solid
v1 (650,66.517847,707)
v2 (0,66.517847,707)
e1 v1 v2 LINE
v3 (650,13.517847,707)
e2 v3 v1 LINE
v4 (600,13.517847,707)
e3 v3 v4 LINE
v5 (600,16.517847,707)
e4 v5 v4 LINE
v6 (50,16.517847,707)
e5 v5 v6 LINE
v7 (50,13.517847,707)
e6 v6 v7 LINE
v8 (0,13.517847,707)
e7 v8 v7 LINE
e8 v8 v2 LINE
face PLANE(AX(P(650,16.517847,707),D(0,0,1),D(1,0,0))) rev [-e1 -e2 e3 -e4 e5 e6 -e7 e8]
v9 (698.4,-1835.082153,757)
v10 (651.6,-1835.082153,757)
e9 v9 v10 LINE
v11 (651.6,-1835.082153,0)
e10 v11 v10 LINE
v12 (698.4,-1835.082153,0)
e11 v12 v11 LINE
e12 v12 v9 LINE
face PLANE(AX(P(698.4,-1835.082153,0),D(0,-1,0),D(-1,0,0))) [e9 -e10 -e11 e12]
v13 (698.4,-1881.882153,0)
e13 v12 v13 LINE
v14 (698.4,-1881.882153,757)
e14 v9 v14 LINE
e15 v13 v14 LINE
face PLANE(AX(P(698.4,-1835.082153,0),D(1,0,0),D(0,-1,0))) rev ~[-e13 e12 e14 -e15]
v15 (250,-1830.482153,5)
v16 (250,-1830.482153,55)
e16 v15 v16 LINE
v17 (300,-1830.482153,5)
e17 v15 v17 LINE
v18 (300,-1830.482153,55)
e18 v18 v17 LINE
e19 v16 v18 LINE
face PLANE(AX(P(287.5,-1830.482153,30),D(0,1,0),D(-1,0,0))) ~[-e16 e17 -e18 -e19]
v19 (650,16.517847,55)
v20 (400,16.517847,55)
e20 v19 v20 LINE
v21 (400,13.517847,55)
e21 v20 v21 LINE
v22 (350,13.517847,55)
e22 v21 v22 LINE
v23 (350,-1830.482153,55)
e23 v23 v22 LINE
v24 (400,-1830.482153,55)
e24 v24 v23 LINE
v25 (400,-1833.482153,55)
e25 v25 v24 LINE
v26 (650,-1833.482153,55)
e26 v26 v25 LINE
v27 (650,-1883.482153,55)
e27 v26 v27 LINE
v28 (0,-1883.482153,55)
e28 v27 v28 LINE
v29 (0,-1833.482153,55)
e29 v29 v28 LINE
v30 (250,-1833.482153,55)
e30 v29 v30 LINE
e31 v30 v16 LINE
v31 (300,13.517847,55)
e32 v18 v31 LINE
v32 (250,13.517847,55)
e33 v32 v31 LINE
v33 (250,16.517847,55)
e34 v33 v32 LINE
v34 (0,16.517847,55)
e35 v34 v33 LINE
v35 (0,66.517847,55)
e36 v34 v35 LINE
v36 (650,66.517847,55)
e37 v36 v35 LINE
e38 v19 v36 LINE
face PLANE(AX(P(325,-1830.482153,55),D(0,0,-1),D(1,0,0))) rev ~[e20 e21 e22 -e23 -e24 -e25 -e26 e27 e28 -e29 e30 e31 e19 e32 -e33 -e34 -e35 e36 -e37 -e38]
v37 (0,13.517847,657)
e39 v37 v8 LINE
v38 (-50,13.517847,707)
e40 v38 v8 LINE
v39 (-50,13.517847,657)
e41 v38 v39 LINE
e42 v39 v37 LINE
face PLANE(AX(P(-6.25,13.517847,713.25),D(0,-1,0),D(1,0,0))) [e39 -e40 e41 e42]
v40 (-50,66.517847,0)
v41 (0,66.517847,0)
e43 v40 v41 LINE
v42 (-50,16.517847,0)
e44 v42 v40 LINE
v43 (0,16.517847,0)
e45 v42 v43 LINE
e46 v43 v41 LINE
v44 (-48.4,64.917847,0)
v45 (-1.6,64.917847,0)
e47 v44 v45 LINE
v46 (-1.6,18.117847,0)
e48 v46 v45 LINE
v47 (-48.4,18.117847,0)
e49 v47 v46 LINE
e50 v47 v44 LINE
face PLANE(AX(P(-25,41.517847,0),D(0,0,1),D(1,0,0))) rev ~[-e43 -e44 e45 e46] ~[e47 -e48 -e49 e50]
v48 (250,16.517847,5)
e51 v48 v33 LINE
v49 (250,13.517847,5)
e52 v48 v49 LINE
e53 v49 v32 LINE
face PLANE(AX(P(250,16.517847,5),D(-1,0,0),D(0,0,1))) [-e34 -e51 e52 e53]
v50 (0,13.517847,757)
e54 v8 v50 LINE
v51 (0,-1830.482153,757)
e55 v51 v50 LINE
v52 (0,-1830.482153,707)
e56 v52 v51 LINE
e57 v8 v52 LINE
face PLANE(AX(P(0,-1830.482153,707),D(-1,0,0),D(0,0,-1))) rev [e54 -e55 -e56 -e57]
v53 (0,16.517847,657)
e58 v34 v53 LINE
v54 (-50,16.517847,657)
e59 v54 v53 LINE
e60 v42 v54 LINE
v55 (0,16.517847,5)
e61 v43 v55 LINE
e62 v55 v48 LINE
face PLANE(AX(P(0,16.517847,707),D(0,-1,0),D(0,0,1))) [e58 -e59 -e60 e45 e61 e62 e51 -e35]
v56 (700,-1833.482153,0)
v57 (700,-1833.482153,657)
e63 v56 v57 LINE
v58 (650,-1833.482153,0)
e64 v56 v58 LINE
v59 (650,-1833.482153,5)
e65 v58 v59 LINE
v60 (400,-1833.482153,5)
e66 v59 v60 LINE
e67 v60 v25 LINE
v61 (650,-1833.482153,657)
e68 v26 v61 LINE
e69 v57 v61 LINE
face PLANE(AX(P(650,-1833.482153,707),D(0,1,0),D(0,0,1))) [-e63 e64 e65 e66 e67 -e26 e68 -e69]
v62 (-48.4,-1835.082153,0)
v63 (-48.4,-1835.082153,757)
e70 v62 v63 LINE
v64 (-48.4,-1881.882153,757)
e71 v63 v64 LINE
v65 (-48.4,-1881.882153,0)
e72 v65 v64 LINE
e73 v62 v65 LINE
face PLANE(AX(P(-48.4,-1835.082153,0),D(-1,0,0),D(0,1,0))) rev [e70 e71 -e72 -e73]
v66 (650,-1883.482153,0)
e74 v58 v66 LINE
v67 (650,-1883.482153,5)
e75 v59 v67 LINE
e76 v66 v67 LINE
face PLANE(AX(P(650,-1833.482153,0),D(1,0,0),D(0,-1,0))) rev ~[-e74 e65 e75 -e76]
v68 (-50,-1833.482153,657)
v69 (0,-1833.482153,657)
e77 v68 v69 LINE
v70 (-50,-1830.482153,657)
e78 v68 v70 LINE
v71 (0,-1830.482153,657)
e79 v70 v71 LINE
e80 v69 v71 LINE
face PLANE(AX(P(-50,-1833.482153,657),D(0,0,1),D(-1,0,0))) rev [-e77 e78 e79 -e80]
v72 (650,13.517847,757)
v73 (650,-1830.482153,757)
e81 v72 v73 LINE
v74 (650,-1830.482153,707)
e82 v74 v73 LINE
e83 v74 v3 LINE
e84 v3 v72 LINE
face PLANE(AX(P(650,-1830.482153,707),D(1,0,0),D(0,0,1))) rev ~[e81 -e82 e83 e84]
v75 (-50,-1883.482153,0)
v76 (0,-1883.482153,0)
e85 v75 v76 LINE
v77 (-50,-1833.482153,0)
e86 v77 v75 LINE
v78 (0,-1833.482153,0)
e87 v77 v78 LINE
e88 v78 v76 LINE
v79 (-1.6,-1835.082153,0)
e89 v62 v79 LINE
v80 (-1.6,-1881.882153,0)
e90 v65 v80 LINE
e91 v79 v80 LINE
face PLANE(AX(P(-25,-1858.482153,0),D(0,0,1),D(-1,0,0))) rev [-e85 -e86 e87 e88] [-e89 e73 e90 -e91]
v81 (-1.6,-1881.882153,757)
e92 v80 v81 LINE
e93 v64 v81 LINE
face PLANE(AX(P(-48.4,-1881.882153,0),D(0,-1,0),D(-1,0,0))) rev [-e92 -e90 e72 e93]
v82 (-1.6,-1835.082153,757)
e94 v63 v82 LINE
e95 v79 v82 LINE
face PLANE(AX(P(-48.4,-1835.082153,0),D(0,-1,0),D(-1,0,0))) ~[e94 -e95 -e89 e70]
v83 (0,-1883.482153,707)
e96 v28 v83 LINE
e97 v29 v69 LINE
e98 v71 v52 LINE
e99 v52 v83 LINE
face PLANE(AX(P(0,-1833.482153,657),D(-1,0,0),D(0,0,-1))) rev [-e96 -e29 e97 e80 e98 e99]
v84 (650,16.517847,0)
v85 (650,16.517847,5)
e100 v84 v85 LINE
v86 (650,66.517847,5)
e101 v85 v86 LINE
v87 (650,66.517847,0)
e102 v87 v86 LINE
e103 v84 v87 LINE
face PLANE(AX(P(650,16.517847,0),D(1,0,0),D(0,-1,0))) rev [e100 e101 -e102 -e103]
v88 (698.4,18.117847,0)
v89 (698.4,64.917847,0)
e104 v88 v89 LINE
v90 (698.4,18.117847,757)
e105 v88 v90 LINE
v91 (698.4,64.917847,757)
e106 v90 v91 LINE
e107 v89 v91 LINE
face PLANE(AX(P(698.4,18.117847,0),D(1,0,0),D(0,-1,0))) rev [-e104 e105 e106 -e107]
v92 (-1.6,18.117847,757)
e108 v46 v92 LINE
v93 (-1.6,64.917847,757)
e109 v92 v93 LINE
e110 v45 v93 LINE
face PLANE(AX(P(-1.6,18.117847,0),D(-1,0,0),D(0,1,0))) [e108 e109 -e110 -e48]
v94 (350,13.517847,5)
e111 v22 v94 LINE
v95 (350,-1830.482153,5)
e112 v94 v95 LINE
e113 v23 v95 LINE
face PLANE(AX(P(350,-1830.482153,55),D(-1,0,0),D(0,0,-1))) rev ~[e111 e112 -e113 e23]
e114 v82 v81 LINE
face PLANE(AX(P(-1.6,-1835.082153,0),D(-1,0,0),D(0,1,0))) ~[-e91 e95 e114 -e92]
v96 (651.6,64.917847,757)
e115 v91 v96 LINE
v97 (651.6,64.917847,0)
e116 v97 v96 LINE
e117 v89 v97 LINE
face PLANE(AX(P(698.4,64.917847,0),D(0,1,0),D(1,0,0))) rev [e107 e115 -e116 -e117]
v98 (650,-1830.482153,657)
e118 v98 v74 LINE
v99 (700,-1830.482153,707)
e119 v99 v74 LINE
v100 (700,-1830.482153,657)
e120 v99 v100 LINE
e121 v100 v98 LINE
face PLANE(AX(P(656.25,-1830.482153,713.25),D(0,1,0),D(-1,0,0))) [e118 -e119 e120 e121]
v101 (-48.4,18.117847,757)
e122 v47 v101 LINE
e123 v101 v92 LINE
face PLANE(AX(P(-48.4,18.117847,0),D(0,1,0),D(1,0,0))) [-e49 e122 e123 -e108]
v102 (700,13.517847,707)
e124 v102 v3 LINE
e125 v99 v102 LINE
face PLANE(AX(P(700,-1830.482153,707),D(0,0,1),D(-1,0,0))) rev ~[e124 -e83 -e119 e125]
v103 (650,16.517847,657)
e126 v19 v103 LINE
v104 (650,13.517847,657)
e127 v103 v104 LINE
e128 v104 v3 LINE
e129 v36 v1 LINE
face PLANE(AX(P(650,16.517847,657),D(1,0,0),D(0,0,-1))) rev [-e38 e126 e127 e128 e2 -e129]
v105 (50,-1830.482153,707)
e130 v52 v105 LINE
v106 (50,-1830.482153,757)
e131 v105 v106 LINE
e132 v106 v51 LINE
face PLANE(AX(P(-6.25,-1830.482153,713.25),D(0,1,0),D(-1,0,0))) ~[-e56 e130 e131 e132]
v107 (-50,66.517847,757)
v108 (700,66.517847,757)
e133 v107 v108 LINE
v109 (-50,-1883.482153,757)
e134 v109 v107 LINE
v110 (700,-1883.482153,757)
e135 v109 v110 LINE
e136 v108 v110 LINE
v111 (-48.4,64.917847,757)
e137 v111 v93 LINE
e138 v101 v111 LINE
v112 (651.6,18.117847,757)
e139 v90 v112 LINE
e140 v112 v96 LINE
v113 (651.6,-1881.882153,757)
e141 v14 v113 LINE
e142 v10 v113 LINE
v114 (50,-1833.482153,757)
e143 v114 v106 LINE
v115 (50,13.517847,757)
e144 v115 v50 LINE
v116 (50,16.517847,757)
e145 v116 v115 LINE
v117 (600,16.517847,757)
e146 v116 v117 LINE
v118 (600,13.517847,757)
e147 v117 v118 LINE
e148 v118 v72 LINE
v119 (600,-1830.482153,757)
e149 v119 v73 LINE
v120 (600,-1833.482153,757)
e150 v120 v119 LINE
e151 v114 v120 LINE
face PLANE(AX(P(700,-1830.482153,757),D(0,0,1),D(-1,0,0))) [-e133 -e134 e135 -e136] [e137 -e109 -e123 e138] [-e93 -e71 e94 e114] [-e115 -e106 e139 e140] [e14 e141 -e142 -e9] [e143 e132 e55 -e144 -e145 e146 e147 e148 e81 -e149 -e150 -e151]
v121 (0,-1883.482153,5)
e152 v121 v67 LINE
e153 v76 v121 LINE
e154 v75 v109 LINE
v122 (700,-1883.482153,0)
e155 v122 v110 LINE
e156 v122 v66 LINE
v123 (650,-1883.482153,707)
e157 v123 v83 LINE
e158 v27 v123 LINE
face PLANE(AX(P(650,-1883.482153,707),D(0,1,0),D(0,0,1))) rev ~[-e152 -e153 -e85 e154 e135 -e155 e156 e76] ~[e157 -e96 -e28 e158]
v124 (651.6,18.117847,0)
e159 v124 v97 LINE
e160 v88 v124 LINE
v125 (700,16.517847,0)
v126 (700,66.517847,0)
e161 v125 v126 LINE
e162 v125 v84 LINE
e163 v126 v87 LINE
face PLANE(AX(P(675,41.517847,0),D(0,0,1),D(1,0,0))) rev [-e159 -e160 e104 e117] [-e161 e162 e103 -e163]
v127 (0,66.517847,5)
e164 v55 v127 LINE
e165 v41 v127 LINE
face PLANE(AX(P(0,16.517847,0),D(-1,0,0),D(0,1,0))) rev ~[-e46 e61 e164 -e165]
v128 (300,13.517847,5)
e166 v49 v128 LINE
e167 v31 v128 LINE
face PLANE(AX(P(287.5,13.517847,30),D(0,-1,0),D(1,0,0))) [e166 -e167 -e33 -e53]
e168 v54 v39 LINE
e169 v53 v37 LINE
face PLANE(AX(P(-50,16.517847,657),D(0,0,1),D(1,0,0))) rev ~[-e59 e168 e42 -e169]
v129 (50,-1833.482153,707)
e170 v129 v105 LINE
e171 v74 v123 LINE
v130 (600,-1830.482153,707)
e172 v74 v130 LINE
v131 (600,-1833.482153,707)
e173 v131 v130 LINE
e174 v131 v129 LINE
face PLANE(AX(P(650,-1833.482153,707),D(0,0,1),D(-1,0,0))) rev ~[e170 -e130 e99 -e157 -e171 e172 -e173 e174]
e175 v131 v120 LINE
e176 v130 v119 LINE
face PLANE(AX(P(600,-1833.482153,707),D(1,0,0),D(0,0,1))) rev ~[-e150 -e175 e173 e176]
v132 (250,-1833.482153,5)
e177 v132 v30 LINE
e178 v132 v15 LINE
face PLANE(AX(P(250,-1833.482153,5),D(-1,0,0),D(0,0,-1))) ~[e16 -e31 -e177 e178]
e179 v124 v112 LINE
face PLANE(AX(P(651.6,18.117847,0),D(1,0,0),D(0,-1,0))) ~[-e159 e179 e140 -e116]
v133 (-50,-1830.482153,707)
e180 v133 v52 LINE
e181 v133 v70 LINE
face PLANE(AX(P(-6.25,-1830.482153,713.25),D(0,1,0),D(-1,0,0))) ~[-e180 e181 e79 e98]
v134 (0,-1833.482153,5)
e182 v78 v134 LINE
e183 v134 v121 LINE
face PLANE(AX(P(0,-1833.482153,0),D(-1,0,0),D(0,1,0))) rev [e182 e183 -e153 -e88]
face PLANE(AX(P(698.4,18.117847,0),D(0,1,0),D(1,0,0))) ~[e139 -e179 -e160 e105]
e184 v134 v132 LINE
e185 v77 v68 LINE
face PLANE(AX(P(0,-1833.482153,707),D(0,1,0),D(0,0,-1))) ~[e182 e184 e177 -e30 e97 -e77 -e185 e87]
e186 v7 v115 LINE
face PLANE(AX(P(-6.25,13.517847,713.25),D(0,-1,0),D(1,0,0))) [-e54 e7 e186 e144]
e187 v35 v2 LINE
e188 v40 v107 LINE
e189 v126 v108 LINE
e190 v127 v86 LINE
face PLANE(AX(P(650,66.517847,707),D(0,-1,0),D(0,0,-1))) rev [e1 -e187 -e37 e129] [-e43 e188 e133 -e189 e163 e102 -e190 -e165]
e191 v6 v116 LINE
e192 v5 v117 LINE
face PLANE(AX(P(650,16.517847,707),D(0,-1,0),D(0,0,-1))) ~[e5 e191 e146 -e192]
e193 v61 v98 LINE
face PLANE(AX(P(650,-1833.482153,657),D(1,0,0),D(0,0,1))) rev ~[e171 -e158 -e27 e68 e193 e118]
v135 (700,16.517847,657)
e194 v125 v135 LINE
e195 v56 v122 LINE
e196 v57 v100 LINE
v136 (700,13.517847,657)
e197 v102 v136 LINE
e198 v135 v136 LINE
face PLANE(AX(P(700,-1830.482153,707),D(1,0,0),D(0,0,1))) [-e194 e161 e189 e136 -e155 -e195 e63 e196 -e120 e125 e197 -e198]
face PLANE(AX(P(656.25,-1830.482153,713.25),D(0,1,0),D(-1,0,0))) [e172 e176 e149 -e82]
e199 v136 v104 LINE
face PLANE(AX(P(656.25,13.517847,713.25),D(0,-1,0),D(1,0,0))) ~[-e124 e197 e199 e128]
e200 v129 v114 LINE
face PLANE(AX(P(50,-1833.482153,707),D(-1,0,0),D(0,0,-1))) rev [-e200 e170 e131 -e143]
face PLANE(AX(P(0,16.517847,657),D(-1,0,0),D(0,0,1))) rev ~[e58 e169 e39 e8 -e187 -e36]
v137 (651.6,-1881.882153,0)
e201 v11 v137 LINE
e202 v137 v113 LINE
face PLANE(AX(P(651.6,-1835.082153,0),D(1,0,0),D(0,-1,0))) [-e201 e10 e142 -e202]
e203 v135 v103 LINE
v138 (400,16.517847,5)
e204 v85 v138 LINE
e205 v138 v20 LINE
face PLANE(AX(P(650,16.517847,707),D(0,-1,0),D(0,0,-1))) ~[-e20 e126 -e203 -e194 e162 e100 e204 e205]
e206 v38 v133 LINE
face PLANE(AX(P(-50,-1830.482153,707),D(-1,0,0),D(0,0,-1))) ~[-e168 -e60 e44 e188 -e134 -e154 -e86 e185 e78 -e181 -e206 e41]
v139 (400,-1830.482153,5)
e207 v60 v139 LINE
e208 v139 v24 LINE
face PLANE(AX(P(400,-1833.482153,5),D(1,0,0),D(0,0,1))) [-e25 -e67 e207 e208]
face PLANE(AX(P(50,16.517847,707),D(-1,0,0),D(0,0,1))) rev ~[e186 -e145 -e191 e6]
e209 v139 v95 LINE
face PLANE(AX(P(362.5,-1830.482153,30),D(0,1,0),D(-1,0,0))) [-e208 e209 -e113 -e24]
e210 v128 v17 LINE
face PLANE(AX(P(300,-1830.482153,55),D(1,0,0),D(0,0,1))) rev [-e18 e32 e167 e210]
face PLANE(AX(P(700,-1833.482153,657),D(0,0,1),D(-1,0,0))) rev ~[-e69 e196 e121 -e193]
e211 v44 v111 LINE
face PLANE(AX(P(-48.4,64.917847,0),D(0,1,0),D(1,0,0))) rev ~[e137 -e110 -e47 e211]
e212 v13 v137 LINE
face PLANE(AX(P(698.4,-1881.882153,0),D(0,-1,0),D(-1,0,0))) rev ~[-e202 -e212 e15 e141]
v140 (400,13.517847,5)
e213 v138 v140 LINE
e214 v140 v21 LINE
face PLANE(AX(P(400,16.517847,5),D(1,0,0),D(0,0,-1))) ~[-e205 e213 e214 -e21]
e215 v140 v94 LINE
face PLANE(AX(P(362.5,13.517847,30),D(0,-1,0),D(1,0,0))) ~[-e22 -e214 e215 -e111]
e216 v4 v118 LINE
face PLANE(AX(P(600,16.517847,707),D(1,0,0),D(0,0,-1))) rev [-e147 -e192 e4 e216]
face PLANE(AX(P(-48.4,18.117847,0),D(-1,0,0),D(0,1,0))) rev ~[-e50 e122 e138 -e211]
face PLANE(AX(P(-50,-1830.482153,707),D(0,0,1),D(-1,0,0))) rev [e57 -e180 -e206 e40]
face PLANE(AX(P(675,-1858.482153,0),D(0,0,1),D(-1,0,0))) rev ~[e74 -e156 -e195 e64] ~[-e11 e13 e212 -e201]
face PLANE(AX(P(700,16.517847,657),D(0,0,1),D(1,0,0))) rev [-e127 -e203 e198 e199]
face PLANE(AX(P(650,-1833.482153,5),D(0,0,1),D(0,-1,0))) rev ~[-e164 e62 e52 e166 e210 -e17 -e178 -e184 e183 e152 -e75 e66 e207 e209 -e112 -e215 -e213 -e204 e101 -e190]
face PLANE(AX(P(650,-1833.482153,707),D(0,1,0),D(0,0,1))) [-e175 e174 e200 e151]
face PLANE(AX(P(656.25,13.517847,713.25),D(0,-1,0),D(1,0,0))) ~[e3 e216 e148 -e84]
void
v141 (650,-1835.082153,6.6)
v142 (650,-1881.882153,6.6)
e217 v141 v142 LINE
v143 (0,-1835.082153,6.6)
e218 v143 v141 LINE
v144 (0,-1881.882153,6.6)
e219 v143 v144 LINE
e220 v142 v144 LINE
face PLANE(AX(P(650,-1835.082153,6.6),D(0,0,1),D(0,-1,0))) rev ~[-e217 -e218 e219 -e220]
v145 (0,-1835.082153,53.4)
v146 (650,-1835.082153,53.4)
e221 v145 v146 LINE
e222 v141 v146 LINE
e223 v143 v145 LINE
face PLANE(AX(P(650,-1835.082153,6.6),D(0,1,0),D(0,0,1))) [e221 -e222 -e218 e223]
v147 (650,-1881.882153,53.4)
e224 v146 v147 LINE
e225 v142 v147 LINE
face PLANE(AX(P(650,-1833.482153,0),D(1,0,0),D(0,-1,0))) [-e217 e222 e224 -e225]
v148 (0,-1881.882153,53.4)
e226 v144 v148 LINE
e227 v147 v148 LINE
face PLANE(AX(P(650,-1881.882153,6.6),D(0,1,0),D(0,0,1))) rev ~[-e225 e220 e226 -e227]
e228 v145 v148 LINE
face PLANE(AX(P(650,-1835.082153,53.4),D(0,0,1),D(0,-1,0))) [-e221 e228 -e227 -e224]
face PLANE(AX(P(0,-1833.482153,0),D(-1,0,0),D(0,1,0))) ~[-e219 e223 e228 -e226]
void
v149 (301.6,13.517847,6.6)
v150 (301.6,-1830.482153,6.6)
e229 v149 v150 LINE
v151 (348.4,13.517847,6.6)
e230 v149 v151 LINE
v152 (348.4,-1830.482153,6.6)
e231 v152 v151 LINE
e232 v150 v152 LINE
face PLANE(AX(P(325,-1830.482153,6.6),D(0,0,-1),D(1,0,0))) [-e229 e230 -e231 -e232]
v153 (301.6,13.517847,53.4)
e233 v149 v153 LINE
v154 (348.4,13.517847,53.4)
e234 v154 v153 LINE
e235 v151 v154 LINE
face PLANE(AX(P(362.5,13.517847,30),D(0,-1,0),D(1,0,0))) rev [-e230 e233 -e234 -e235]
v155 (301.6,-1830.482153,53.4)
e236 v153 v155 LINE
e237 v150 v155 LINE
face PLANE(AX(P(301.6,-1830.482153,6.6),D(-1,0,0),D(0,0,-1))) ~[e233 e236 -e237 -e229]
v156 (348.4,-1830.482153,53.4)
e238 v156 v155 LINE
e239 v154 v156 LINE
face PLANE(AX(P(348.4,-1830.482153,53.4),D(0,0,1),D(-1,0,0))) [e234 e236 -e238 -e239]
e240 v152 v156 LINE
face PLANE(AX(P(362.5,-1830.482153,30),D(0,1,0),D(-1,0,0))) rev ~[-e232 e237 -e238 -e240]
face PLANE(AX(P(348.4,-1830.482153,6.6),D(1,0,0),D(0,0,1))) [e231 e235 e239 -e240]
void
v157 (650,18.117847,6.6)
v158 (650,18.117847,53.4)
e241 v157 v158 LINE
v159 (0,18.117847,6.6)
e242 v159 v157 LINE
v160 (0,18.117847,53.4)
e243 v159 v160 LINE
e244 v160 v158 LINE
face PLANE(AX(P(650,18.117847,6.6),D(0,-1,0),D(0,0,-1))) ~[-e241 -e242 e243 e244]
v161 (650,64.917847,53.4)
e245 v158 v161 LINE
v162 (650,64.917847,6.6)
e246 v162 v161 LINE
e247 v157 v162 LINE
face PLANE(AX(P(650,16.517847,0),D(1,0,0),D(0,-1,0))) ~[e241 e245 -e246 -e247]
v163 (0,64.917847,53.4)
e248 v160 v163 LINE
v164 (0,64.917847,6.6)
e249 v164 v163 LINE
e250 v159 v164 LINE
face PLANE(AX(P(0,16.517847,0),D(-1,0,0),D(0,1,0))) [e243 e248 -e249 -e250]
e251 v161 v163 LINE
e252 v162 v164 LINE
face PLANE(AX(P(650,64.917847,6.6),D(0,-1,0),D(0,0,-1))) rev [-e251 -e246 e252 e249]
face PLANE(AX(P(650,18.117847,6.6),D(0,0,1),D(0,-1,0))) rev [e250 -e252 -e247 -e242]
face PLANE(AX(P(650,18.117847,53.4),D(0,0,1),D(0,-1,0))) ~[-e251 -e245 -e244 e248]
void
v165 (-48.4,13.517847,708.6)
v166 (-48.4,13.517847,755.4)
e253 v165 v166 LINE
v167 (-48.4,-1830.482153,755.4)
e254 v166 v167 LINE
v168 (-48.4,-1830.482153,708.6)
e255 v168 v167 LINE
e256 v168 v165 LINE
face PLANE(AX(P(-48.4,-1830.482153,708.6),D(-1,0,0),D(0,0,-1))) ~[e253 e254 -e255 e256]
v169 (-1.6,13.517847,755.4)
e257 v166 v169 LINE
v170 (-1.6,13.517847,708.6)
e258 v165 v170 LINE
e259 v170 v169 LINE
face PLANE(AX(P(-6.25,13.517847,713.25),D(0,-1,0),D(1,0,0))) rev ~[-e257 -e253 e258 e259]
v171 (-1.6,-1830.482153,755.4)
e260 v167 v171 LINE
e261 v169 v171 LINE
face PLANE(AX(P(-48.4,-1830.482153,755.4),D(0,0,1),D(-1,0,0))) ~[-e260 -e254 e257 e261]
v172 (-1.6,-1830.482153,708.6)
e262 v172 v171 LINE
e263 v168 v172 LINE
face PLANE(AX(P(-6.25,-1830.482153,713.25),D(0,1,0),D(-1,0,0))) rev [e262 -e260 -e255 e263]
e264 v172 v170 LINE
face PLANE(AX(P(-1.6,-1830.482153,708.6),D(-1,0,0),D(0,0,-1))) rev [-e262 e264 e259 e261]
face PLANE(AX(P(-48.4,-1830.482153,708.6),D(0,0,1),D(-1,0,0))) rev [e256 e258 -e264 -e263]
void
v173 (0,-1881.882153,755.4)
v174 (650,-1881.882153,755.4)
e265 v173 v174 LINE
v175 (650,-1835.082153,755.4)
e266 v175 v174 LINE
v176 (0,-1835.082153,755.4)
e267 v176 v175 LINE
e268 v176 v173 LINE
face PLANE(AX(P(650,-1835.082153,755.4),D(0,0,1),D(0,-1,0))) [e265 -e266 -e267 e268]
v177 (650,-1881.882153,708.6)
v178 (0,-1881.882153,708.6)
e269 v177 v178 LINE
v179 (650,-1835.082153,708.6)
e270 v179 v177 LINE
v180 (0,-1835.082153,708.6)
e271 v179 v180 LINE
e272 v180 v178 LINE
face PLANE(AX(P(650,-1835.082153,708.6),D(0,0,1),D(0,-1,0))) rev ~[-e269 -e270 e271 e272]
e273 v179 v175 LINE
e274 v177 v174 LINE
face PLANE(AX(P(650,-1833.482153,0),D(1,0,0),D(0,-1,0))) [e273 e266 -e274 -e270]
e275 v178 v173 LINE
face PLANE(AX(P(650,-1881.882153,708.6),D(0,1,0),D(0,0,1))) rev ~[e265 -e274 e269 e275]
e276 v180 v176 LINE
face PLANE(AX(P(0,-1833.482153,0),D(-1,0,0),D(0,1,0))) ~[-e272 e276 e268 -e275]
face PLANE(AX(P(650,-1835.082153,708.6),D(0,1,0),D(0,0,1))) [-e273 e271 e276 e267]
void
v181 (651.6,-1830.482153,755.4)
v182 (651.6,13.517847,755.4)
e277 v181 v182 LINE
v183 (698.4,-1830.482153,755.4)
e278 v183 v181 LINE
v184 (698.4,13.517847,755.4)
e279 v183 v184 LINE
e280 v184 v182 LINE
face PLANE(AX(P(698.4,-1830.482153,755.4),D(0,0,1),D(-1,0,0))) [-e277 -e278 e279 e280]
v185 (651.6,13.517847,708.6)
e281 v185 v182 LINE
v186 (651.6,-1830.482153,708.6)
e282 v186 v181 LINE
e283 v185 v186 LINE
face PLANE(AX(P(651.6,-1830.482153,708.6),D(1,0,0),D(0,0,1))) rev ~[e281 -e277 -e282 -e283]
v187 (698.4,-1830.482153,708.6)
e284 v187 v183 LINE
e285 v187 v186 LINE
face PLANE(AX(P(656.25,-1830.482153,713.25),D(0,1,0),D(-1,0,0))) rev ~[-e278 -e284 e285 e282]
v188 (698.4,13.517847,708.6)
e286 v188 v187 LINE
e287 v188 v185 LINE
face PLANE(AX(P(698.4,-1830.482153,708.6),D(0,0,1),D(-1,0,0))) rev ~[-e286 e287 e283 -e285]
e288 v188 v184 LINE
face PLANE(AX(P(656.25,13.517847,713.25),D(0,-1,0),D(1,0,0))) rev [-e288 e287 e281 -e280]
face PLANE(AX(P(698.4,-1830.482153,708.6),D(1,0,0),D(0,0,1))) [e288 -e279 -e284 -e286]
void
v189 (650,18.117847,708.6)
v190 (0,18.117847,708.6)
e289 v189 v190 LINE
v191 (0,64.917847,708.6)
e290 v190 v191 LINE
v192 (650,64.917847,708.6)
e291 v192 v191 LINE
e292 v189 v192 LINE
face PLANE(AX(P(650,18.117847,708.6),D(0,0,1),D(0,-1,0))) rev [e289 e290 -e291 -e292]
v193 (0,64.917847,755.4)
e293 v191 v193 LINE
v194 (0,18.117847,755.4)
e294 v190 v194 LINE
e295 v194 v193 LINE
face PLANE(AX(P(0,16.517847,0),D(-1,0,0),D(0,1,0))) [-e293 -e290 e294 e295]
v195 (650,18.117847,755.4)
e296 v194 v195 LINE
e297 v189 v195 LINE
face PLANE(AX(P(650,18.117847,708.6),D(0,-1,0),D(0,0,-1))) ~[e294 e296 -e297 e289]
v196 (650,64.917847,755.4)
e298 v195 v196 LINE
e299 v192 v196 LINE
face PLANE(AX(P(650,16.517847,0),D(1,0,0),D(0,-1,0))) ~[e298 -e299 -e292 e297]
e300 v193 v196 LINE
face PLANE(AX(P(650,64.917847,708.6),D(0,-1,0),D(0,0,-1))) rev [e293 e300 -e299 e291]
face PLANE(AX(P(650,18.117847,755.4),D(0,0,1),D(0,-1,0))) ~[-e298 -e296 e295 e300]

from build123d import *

# Parameters (mm, degrees)
F0_W     = 50
F0_H     = 50
F0_W_2   = 46.8
F0_H_2   = 46.8
F1_DEPTH = 757
F2_W     = 50
F2_H     = 50
F2_W_2   = 46.8
F2_H_2   = 46.8
F3_DEPTH = 325
F4_W     = 75
F4_H     = 50
F5_DEPTH = 3
F6_W     = 50
F6_H     = 50
F6_W_2   = 46.8
F6_H_2   = 46.8
F7_DEPTH = 922
F9_DEPTH = 922


with BuildPart() as f1:
    # F0 (on Top) → F1 (new body)
    with BuildSketch(Plane.XY):
        with Locations((-25, 41.517847)):
            Rectangle(F0_W, F0_H)
        with Locations((-25, 41.517847)):
            Rectangle(F0_W_2, F0_H_2, mode=Mode.SUBTRACT)
    extrude(amount=F1_DEPTH)

    # F2 (on face) → F3 (join)
    with BuildSketch(Plane.YZ):
        with Locations((41.517847, 732)):
            Rectangle(F2_W, F2_H)
        with Locations((41.517847, 732)):
            Rectangle(F2_W_2, F2_H_2, mode=Mode.SUBTRACT)
        with Locations((41.517847, 30)):
            Rectangle(F2_W, F2_H)
        with Locations((41.517847, 30)):
            Rectangle(F2_W_2, F2_H_2, mode=Mode.SUBTRACT)
    extrude(amount=F3_DEPTH)

    # F4 (on face) → F5 (join)
    with BuildSketch(Plane.XZ.offset(-16.517847)):
        Polygon((50, 757), (-50, 757), (-50, 657), (0, 657), (0, 707), (50, 707), align=None)
        with Locations((287.5, 30)):
            Rectangle(F4_W, F4_H)
    extrude(amount=F5_DEPTH)

    # F6 (on face) → F7 (join)
    with BuildSketch(Plane.XZ.offset(-13.517847)):
        with Locations((-25, 732)):
            Rectangle(F6_W, F6_H)
        with Locations((-25, 732)):
            Rectangle(F6_W_2, F6_H_2, mode=Mode.SUBTRACT)
    extrude(amount=F7_DEPTH)

    # F8 (on face) → F9 (join)
    with BuildSketch(Plane.XZ.offset(-13.517847)):
        Polygon((325, 53.4), (325, 55), (300, 55), (300, 5), (325, 5), (325, 6.6), (301.6, 6.6), (301.6, 53.4), align=None)
    extrude(amount=F9_DEPTH)

    # F10: F1 across face


with BuildPart() as f1_1:
    add(f1.part)
    add(f1.part.mirror(Plane(origin=(325, -382.720488, 30), x_dir=(0, 1, 0), z_dir=(1, 0, 0))))

    # F11: F1 across face


with BuildPart() as f1_2:
    add(f1_1.part)
    add(f1_1.part.mirror(Plane(origin=(325, -908.482153, 30), x_dir=(1, 0, 0), z_dir=(0, -1, 0))))


solid = f1_2.part
